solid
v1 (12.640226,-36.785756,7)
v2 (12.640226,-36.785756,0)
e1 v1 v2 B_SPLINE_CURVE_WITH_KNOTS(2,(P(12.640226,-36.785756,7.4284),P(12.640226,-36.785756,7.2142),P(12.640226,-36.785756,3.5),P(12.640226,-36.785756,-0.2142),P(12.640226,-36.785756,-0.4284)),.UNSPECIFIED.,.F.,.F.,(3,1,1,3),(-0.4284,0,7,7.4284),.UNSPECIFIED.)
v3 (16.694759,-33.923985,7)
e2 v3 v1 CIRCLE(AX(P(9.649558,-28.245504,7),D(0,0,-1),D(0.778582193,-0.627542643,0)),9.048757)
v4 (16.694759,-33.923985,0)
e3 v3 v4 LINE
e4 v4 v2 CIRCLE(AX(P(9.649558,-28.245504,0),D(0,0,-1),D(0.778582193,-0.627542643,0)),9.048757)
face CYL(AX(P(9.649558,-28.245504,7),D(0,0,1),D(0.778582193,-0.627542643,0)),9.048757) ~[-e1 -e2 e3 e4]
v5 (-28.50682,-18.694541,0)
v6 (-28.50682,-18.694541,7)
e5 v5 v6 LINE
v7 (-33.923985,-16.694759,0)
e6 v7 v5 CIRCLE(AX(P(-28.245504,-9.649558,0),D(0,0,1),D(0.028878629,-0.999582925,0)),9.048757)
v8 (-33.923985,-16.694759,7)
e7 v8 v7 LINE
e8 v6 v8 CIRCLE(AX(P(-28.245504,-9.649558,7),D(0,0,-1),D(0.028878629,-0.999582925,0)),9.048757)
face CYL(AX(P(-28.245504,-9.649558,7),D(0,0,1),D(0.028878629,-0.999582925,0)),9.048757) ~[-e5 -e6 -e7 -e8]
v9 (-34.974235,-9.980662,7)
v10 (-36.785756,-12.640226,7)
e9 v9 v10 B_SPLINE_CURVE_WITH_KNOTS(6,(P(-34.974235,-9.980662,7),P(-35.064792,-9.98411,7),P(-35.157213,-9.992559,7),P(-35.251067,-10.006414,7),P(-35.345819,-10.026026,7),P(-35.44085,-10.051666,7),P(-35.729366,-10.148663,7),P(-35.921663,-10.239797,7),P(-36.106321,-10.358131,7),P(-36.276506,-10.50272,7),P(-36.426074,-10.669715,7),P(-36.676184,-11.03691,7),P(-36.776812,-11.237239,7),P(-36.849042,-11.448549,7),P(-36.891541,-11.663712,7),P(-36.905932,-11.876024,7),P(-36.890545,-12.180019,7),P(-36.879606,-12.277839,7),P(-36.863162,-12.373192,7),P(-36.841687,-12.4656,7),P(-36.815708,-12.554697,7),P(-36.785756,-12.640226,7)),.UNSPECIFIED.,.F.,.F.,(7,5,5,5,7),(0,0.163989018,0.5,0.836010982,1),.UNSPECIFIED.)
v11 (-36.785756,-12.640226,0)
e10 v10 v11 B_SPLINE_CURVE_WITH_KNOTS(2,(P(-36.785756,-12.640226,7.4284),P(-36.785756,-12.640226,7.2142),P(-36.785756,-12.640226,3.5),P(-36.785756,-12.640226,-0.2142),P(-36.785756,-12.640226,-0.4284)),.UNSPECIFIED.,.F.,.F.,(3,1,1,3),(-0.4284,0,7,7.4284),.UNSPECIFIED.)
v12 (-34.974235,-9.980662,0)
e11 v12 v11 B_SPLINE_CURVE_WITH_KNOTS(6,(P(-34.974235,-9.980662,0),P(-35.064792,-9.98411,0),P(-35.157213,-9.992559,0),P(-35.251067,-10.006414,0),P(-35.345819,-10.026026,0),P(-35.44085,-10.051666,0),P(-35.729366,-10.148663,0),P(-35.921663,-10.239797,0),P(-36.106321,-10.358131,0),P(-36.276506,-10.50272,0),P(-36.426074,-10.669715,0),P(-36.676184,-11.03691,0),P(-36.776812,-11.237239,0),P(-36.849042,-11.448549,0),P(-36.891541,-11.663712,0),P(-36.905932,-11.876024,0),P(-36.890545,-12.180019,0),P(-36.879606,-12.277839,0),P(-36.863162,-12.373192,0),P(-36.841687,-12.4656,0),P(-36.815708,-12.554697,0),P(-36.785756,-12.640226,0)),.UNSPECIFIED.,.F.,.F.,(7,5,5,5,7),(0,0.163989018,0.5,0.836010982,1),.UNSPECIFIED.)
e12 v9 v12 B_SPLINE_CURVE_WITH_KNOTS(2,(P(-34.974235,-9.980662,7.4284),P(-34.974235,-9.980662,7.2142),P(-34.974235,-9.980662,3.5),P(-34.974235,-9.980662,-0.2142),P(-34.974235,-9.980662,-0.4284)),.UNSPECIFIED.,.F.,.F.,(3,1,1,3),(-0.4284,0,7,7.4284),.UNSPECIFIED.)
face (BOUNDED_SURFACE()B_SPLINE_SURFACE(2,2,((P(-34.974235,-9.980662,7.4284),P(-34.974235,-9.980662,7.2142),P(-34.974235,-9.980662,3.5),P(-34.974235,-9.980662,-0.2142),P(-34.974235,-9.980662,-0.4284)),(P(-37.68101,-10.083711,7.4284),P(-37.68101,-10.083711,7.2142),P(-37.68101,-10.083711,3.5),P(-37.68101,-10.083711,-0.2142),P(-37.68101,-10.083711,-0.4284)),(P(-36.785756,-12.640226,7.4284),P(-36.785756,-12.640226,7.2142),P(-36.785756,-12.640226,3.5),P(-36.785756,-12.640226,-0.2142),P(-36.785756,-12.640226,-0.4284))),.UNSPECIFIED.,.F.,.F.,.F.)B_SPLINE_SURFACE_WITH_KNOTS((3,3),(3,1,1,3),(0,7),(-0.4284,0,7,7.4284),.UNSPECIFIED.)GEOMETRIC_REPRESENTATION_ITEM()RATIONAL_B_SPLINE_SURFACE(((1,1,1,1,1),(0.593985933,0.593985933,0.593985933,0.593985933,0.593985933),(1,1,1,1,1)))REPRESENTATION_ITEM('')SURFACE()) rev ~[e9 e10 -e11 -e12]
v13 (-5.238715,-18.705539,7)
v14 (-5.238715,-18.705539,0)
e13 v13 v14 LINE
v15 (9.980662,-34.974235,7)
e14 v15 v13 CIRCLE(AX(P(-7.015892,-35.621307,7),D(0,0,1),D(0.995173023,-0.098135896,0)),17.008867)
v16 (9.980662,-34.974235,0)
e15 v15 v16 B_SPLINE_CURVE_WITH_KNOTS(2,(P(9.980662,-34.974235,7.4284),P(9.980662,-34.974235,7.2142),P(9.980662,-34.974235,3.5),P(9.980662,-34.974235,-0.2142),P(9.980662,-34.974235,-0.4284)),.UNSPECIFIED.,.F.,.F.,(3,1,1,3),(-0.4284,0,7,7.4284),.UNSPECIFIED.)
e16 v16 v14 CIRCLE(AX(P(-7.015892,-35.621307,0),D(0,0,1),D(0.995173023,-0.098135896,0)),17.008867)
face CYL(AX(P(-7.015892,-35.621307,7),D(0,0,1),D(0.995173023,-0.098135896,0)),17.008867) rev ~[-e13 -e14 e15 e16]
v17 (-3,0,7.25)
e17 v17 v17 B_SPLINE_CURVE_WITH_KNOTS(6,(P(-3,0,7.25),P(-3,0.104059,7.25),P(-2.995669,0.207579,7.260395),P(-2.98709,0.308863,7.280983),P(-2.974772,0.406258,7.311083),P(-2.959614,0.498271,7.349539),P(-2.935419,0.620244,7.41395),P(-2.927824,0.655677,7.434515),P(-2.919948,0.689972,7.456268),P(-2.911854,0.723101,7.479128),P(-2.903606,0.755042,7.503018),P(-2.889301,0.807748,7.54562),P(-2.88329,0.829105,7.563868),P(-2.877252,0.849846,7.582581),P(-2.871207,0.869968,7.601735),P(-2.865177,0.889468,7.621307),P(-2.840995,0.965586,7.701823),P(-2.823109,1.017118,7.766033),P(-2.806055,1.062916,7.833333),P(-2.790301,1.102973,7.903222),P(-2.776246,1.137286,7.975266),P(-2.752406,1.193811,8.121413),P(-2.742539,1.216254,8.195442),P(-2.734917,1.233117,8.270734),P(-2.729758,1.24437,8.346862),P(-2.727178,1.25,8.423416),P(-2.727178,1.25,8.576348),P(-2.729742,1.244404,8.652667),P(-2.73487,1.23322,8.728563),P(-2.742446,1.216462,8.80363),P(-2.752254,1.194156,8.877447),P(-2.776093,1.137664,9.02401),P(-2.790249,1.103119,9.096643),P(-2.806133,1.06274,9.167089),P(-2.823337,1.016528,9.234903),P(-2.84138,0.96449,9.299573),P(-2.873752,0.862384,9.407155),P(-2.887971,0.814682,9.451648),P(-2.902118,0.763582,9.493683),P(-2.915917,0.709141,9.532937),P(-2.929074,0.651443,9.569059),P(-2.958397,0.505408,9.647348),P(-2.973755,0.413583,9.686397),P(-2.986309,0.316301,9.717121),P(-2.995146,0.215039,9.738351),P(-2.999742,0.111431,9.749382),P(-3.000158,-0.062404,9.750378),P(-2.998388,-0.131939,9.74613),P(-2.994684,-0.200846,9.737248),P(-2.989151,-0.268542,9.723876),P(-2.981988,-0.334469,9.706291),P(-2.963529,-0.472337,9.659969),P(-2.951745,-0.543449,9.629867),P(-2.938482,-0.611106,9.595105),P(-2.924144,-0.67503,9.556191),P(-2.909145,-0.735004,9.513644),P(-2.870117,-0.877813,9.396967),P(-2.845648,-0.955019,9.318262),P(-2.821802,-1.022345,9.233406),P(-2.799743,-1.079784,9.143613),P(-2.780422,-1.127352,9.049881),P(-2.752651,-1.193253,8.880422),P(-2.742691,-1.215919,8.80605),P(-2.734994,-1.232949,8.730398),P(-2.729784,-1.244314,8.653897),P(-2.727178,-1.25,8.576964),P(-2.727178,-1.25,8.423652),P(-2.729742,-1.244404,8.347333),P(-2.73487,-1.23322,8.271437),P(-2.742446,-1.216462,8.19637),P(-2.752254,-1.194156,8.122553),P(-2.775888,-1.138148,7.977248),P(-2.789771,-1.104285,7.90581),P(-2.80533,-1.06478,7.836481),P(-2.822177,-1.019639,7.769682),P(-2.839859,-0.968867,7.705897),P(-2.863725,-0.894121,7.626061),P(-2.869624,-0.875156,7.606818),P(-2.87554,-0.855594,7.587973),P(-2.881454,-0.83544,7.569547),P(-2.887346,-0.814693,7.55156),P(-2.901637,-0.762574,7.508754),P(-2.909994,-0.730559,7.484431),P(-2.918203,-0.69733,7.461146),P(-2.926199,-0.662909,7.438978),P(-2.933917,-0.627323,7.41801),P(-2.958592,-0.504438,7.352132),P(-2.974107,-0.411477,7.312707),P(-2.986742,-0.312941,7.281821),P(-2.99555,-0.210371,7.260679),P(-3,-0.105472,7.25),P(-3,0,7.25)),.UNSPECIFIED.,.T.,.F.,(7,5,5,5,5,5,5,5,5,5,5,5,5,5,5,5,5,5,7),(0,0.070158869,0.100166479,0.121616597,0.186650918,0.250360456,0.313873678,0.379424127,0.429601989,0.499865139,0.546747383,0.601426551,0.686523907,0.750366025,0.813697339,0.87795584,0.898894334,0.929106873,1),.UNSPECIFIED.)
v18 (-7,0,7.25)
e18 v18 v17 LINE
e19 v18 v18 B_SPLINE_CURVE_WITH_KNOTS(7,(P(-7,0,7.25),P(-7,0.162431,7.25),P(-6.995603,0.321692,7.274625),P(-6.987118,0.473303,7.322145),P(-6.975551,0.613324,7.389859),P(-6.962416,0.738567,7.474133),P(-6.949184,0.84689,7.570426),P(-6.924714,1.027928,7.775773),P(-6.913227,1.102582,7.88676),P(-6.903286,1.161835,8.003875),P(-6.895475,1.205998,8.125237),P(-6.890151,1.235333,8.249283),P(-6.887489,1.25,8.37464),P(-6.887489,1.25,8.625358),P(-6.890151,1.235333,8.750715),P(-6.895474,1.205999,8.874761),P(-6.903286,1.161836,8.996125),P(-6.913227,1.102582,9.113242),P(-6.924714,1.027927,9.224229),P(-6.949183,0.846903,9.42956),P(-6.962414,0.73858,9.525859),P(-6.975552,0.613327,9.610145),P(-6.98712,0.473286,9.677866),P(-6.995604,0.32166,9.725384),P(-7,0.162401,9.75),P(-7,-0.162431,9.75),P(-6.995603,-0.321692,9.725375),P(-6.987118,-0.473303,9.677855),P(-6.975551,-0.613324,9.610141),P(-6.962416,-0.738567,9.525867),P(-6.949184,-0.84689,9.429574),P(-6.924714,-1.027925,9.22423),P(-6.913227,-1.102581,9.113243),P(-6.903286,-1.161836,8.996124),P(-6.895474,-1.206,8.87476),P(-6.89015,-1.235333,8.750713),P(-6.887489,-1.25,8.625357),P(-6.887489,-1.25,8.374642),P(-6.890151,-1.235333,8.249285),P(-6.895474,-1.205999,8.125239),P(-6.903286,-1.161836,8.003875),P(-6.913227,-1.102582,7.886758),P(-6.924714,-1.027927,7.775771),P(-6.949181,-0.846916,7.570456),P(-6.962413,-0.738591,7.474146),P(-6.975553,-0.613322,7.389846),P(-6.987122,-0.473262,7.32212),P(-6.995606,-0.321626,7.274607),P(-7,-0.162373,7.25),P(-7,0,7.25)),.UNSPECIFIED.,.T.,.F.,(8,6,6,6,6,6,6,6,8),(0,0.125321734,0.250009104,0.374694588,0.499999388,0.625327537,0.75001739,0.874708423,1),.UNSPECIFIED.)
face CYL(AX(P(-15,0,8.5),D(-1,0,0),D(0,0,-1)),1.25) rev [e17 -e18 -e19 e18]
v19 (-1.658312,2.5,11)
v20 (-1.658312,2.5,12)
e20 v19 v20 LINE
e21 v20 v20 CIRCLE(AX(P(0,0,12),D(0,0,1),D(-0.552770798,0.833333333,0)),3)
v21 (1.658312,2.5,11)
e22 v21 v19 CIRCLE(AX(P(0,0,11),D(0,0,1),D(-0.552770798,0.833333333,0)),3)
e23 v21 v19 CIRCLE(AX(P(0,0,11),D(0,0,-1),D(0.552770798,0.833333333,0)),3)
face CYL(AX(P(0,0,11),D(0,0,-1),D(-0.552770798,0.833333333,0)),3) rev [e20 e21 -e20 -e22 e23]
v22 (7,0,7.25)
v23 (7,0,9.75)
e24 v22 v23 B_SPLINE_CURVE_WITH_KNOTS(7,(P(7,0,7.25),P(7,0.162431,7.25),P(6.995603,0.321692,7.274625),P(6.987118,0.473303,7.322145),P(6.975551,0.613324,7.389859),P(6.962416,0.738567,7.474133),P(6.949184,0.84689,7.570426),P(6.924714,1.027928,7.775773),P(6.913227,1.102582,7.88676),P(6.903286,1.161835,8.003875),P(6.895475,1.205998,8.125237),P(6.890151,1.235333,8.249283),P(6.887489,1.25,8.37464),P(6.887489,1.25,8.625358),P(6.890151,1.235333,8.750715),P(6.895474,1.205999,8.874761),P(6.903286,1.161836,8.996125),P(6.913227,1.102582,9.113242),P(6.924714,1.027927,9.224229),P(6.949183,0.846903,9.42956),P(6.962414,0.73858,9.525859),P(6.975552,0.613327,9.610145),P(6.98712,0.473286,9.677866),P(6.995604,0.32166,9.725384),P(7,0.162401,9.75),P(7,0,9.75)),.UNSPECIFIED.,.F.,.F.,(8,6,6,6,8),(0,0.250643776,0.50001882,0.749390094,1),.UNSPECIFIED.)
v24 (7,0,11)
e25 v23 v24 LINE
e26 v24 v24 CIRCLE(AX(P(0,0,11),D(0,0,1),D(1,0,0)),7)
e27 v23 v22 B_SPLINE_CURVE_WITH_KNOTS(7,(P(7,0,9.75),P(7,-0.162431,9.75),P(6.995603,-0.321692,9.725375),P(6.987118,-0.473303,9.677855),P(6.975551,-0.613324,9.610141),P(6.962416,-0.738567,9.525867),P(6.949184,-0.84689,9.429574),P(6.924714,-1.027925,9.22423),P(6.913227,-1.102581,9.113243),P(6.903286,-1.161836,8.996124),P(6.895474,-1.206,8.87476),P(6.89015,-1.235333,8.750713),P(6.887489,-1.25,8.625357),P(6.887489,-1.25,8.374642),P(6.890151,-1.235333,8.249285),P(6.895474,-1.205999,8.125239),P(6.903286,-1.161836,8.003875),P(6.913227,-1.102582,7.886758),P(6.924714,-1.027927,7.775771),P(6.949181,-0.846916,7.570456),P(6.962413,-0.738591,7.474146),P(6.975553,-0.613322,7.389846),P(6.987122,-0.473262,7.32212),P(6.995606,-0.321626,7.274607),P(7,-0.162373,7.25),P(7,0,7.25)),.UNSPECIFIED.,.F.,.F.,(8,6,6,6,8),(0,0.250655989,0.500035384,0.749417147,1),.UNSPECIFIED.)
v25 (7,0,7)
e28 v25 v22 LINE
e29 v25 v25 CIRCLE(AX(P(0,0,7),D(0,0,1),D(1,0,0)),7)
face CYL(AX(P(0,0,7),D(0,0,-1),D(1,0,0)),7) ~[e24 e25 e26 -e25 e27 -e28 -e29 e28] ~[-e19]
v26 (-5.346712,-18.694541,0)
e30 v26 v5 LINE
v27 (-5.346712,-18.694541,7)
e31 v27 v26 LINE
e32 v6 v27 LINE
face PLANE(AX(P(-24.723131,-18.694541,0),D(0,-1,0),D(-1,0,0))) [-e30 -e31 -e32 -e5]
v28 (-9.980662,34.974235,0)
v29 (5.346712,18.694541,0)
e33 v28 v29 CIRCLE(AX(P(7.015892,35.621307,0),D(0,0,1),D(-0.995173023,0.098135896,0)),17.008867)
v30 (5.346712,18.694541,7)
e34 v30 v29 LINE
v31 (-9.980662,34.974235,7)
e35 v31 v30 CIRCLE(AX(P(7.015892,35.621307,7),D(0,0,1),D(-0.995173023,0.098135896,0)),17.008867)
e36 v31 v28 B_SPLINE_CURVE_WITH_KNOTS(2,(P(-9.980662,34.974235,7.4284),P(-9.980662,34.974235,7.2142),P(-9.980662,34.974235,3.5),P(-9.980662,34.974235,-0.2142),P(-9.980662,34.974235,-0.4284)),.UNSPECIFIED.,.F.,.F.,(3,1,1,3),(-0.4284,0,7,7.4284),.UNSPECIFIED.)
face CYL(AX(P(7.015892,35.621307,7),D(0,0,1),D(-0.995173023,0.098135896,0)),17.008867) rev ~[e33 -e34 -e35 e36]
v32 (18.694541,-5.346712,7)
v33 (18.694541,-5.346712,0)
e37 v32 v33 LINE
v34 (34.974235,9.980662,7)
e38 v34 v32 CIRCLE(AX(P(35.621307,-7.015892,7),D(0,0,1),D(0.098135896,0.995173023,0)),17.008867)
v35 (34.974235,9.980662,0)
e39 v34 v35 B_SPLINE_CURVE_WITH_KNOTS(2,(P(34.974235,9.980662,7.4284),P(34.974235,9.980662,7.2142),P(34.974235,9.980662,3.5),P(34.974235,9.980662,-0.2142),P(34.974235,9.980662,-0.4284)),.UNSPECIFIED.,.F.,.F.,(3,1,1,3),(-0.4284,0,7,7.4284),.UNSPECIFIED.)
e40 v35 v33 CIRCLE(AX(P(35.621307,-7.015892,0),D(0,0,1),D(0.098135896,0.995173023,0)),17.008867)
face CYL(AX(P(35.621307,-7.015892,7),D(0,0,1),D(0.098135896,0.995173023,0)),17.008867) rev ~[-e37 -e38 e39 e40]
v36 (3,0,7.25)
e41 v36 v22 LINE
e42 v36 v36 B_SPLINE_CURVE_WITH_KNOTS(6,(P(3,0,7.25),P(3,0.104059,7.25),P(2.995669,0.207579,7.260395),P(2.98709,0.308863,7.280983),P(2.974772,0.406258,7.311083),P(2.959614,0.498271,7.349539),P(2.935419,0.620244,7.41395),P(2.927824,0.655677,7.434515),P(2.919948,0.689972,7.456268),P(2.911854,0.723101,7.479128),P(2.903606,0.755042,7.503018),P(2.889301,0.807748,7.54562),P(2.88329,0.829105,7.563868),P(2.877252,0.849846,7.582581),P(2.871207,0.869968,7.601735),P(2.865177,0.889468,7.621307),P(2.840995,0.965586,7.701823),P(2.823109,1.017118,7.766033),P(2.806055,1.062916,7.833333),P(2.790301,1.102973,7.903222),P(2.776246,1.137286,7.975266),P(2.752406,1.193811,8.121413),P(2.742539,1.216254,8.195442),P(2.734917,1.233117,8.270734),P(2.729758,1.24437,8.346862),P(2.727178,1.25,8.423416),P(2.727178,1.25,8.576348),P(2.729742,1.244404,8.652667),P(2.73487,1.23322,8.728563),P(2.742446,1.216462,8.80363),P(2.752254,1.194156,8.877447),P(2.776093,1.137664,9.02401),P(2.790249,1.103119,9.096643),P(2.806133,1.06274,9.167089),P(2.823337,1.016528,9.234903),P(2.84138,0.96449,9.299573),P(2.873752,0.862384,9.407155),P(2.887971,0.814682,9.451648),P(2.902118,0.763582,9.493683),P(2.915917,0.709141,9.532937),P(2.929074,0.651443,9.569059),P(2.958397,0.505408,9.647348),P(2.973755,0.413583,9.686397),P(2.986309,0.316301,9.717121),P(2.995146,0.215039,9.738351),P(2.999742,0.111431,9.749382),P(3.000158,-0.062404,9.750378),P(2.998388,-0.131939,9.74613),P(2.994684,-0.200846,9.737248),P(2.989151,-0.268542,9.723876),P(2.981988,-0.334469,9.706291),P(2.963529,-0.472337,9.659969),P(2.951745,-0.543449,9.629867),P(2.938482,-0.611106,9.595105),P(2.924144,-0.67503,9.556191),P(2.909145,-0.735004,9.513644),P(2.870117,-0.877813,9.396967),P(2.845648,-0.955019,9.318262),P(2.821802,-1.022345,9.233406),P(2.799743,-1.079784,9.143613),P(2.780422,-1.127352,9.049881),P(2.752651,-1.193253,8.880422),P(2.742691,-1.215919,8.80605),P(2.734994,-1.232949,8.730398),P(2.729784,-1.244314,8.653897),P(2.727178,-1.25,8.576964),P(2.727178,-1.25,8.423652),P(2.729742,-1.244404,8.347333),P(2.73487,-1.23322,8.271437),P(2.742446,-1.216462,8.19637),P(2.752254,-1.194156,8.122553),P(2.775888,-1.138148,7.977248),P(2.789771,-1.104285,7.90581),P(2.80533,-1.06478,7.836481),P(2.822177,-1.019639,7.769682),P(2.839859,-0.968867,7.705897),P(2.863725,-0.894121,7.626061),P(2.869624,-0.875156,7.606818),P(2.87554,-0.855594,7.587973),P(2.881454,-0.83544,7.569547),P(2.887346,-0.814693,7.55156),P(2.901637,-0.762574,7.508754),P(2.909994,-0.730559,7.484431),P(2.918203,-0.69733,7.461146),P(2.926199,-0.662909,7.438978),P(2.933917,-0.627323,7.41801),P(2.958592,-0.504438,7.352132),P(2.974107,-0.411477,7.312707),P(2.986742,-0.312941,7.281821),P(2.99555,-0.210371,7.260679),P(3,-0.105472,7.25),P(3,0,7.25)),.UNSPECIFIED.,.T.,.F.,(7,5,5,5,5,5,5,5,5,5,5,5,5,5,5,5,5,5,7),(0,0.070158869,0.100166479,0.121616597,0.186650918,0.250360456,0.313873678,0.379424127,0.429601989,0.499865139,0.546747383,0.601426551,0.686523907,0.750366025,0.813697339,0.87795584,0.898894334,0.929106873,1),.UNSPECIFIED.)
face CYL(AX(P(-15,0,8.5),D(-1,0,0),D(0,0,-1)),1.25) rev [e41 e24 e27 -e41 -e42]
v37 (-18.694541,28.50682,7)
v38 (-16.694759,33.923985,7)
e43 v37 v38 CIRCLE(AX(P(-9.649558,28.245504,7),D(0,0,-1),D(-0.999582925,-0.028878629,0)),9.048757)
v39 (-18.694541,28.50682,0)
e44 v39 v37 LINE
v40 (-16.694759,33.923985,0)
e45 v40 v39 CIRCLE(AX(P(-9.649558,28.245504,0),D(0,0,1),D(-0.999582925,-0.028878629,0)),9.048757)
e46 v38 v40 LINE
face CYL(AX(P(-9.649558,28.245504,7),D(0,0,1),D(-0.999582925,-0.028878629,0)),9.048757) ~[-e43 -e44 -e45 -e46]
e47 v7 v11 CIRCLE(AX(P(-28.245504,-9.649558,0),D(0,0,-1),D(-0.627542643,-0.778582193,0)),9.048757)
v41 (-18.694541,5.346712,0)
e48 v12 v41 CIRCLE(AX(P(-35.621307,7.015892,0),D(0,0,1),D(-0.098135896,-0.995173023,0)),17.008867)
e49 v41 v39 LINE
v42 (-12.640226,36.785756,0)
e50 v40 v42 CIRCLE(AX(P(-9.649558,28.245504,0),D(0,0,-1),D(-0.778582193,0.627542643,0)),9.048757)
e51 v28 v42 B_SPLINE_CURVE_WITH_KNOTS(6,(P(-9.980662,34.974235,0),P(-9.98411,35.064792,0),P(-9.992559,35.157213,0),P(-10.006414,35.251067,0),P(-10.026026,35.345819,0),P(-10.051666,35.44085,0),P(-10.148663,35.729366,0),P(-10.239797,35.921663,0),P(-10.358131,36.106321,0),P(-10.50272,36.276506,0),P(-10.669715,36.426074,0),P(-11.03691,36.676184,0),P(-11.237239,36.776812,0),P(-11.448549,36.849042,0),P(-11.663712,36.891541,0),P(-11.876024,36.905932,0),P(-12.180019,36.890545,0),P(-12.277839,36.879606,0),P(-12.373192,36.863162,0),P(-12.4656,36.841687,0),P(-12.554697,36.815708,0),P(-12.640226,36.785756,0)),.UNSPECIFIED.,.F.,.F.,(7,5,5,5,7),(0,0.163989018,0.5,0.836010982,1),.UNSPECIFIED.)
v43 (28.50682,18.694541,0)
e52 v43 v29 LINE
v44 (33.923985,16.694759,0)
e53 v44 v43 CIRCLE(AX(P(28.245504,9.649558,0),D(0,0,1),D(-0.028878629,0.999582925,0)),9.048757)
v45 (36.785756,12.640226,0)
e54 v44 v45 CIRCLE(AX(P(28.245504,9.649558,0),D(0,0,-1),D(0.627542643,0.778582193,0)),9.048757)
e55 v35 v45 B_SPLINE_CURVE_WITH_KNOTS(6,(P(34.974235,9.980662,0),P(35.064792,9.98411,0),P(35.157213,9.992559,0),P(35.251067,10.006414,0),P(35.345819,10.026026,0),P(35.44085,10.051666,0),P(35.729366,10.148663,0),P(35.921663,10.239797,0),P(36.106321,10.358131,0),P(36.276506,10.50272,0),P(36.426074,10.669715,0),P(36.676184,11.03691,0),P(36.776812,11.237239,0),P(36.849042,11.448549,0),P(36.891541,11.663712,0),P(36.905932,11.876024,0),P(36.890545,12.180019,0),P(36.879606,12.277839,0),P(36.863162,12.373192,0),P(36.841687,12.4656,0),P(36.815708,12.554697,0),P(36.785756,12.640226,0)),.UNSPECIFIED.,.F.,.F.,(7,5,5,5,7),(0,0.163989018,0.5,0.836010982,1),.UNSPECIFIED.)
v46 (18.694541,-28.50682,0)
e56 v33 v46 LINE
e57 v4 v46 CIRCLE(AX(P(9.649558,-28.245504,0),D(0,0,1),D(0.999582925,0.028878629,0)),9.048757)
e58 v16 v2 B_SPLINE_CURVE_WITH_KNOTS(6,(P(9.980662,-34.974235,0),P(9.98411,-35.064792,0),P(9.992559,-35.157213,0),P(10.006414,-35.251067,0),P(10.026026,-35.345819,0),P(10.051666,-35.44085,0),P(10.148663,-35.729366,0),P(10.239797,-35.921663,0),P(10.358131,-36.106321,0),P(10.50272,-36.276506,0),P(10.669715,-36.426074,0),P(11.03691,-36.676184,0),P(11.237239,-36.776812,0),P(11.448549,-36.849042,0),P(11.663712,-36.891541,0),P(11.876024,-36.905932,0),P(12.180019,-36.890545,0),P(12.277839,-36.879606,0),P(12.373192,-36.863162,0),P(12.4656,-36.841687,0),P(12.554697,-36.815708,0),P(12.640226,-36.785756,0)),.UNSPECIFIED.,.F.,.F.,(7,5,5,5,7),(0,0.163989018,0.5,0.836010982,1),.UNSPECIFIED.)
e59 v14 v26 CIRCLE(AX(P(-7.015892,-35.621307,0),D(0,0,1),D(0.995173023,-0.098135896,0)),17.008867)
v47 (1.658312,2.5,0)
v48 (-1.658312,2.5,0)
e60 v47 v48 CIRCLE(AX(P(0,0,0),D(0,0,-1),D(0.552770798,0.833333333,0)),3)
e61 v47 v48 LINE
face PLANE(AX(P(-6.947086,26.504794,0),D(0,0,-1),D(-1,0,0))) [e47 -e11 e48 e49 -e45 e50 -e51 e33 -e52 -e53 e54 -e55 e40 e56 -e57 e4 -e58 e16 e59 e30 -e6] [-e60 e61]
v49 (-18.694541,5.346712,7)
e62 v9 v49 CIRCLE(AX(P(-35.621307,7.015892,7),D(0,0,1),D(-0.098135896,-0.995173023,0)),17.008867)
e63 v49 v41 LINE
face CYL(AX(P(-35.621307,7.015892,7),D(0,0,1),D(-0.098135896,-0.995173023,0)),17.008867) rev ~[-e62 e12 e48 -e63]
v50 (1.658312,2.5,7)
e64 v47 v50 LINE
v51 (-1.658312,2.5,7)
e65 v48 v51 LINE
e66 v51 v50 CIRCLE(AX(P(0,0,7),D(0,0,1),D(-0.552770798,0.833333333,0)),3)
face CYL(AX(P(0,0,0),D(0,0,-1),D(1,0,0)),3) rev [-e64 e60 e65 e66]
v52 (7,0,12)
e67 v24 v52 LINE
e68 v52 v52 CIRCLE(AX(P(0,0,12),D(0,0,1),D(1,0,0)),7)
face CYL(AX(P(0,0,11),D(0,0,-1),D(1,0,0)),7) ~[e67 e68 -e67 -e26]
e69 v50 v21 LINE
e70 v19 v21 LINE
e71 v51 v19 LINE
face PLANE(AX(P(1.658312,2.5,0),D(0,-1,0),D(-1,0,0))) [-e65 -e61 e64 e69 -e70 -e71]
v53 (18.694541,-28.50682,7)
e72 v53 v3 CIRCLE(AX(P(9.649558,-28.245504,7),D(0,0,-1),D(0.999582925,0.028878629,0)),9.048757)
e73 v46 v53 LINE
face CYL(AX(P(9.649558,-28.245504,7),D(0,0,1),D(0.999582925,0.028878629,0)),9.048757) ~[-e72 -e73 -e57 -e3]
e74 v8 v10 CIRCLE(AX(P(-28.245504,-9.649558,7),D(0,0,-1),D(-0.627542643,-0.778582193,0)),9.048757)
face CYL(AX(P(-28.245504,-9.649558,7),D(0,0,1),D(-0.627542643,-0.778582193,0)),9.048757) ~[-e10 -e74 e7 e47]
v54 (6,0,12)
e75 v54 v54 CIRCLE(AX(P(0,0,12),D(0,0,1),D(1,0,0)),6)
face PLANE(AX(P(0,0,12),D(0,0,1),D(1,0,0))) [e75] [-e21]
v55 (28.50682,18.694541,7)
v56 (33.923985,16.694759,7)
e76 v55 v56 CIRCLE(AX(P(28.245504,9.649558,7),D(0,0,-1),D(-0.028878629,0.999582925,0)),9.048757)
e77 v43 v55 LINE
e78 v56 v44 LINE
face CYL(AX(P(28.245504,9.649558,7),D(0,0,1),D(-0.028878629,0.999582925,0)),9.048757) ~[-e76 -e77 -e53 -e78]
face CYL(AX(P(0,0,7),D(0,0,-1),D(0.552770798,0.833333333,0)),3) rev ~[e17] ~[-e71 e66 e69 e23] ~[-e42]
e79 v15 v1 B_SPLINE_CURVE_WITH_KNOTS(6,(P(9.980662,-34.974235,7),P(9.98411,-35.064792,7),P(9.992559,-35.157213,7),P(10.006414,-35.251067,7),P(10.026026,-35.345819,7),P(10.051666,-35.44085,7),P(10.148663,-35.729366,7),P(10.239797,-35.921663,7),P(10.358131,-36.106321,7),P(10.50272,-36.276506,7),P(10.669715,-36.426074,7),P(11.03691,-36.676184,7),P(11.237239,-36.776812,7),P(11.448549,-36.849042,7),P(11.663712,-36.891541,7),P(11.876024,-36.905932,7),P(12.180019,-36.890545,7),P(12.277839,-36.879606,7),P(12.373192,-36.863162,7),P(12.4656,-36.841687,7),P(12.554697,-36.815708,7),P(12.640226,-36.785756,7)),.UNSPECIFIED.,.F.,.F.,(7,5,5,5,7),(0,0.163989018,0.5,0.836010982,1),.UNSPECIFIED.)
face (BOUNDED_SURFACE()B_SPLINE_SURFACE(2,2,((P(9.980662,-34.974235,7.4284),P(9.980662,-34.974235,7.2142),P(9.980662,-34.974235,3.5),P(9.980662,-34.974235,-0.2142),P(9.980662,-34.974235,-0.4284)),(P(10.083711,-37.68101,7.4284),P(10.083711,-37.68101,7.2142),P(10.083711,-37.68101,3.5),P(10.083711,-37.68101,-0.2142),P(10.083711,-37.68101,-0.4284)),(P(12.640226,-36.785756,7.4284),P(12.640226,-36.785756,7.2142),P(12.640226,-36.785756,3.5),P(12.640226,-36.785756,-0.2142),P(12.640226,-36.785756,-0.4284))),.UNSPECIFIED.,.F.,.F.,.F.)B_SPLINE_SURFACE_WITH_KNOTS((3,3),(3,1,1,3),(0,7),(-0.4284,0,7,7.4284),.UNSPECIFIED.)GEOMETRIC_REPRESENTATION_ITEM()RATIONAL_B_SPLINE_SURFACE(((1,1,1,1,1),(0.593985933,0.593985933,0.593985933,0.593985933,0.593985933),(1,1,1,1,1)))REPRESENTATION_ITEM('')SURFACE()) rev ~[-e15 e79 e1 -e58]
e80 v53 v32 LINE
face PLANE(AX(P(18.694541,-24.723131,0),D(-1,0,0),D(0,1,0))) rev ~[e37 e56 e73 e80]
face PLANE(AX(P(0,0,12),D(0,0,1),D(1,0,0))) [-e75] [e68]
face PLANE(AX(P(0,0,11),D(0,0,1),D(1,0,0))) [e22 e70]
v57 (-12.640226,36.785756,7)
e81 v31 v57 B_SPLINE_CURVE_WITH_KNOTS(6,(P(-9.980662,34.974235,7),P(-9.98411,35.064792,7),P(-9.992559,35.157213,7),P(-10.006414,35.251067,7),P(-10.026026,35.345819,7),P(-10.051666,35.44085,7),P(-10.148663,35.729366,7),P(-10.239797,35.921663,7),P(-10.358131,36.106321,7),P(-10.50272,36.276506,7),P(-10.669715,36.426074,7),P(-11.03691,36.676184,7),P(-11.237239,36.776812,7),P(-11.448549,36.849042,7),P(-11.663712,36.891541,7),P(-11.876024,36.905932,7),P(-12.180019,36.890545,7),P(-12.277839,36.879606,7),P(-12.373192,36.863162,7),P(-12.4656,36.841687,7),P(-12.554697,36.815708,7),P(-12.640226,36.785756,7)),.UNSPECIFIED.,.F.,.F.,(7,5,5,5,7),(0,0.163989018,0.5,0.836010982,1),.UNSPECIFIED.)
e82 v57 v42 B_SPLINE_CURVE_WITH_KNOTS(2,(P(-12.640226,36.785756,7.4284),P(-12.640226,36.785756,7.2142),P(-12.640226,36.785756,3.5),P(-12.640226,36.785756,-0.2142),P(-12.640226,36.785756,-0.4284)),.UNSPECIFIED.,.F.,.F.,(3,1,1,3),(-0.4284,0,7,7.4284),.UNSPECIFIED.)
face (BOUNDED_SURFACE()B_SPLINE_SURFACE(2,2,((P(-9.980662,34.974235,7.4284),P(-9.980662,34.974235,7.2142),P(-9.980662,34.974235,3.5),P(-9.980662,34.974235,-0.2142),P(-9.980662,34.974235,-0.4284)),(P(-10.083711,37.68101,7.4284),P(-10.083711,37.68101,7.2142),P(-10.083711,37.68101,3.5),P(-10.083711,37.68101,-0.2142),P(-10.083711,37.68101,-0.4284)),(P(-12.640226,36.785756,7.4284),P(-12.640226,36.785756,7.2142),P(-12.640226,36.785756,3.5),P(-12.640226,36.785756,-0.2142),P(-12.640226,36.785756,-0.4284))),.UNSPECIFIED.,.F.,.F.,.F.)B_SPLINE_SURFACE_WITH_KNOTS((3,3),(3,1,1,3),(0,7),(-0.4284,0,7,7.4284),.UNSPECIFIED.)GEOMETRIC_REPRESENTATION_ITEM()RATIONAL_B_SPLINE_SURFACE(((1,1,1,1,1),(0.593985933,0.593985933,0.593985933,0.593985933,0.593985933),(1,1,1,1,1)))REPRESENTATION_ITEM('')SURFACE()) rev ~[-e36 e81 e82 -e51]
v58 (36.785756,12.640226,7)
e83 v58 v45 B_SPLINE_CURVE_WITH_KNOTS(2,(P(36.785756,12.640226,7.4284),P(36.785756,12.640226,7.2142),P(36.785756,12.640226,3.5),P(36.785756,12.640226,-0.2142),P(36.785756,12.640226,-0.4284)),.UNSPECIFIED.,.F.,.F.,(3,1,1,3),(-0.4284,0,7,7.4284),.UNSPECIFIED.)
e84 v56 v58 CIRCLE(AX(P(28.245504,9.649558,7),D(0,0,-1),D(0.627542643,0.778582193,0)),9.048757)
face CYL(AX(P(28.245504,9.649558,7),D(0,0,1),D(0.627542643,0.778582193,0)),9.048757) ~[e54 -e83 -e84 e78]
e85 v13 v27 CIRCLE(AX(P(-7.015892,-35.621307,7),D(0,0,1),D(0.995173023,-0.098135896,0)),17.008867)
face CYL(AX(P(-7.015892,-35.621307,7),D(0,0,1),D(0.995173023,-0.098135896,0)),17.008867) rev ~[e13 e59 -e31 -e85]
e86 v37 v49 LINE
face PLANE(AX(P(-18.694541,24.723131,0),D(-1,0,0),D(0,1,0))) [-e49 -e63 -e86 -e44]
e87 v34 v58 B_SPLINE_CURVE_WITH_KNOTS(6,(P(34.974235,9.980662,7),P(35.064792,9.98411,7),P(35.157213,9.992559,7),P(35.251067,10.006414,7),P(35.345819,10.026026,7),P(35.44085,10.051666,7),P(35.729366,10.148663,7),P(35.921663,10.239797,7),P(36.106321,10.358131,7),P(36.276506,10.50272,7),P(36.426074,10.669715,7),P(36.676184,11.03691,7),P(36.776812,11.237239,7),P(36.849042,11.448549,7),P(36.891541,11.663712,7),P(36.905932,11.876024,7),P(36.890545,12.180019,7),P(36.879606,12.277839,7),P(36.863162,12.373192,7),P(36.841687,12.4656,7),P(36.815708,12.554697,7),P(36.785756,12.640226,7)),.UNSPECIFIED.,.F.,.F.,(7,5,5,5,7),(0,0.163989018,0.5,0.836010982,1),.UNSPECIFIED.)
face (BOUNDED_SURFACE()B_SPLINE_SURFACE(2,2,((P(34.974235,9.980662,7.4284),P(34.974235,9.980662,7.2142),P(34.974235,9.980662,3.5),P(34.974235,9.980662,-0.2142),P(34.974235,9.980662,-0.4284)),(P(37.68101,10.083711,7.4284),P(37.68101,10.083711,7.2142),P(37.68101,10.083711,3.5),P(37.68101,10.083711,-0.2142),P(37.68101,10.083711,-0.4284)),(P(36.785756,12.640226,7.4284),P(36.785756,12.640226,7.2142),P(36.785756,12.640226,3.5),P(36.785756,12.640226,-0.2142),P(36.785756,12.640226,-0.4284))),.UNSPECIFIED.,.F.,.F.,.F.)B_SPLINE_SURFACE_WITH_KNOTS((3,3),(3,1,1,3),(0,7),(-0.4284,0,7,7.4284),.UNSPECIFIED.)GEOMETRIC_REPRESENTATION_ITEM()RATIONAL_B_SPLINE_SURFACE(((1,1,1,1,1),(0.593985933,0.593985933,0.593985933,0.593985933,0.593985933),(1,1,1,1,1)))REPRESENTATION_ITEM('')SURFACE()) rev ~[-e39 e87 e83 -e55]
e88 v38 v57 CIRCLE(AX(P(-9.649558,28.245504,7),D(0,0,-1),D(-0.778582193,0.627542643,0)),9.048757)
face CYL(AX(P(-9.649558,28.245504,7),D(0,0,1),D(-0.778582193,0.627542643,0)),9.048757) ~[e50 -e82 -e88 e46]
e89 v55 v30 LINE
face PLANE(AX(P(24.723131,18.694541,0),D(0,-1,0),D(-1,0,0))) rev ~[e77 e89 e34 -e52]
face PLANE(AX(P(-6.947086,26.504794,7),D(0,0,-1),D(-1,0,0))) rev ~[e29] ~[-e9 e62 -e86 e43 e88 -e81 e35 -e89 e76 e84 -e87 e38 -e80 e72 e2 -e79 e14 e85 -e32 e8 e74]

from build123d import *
from build123d.topology import SkipClean

# Parameters (mm, degrees)
SKETCH_1_R               = 3
EXTRUDE_1_DEPTH          = 7
SKETCH_5_R               = 7
EXTRUDE_2_DEPTH          = 4
EXTRUDE_START            = 7
EXTRUDE_3_DEPTH          = 7
CUT_EXTRUDE_5_DEPTH      = 8
CUT_EXTRUDE_5_DEPTH_BACK = 15
SKETCH_12_R              = 6
SKETCH_12_R_2            = 3
EXTRUDE_4_DEPTH          = 1
SKETCH_13_R              = 82.694540834
CUT_EXTRUDE_13_DEPTH     = 10
FILLET_1_R               = 2
FILLET_2_R               = 2
EXTRUDE_5_DEPTH          = 7
CUT_EXTRUDE_14_DEPTH     = 10
FILLET_3_R               = 3
FILLET_4_R               = 1
EXTRUDE_START_2          = -7
EXTRUDE_6_DEPTH          = 7
SKETCH_18_R              = 47.238796546
CUT_EXTRUDE_15_DEPTH     = 10
FILLET_5_R               = 2
SKETCH_22_R              = 7
SKETCH_22_R_2            = 6
EXTRUDE_8_DEPTH          = 1


with BuildPart() as part:
    # 草图1 → 凸台-拉伸1 (new body)
    with BuildSketch(Plane.XY):
        with BuildLine():
            ThreePointArc((32.8, 22.894540834), (36.610888994, 26.155959788), (40.879786515, 28.789634497))
            ThreePointArc((40.879786515, 28.789634497), (35.355339059, 35.355339059), (28.789634497, 40.879786515))
            ThreePointArc((28.789634497, 40.879786515), (26.155959788, 36.610888994), (22.894540834, 32.8))
            ThreePointArc((22.894540834, 32.8), (0, 23.316770682), (-22.894540834, 32.8))
            ThreePointArc((-22.894540834, 32.8), (-26.155959788, 36.610888994), (-28.789634497, 40.879786515))
            ThreePointArc((-28.789634497, 40.879786515), (-35.355339059, 35.355339059), (-40.879786515, 28.789634497))
            ThreePointArc((-40.879786515, 28.789634497), (-36.610888994, 26.155959788), (-32.8, 22.894540834))
            ThreePointArc((-32.8, 22.894540834), (-23.316770682, 0), (-32.8, -22.894540834))
            ThreePointArc((-32.8, -22.894540834), (-36.610888994, -26.155959788), (-40.879786515, -28.789634497))
            ThreePointArc((-40.879786515, -28.789634497), (-35.355339059, -35.355339059), (-28.789634497, -40.879786515))
            ThreePointArc((-28.789634497, -40.879786515), (-26.155959788, -36.610888994), (-22.894540834, -32.8))
            ThreePointArc((-22.894540834, -32.8), (0, -23.316770682), (22.894540834, -32.8))
            ThreePointArc((22.894540834, -32.8), (26.155959788, -36.610888994), (28.789634497, -40.879786515))
            ThreePointArc((28.789634497, -40.879786515), (35.355339059, -35.355339059), (40.879786515, -28.789634497))
            ThreePointArc((40.879786515, -28.789634497), (36.610888994, -26.155959788), (32.8, -22.894540834))
            ThreePointArc((32.8, -22.894540834), (23.316770682, 0), (32.8, 22.894540834))
        make_face()
        Circle(SKETCH_1_R, mode=Mode.SUBTRACT)
    extrude(amount=EXTRUDE_1_DEPTH)

    # 草图5 → 凸台-拉伸2 (add)
    with BuildSketch(Plane.XY.offset(7)):
        Circle(SKETCH_5_R)
        with BuildLine():
            Line((-1.658312395, 2.5), (1.658312395, 2.5))
            ThreePointArc((1.658312395, 2.5), (0, -3), (-1.658312395, 2.5))
        make_face(mode=Mode.SUBTRACT)
    extrude(amount=EXTRUDE_2_DEPTH)

    # 草图10 → 凸台-拉伸3 (add)
    with BuildSketch(Plane(origin=(0, 0, 7), x_dir=(-1, 0, 0), z_dir=(0, 0, -1)).offset(EXTRUDE_START)):
        with BuildLine():
            Line((-1.658312395, 2.5), (1.658312395, 2.5))
            ThreePointArc((1.658312395, 2.5), (0, 3), (-1.658312395, 2.5))
        make_face()
    extrude(amount=-EXTRUDE_3_DEPTH)

    # 草图11 → 切除-拉伸5 (cut, two sides: drawn at the far end of the back side and taken through both)
    with BuildSketch(Plane(origin=(0, 0, 0), x_dir=(0, 0, -1), z_dir=(1, 0, 0)).offset(-CUT_EXTRUDE_5_DEPTH_BACK)):
        with BuildLine():
            ThreePointArc((-9.75, 0), (-8.5, -1.25), (-7.25, 0))
            Line((-7.25, 0), (-9.75, 0))
        make_face()
        with BuildLine():
            Line((-9.75, 0), (-7.25, 0))
            ThreePointArc((-7.25, 0), (-8.5, 1.25), (-9.75, 0))
        make_face()
    extrude(amount=CUT_EXTRUDE_5_DEPTH + CUT_EXTRUDE_5_DEPTH_BACK, mode=Mode.SUBTRACT)

    # 草图12 → 凸台-拉伸4 (add)
    with BuildSketch(Plane.XY.offset(11)):
        Circle(SKETCH_12_R)
        with Locations(Location((0, 0, 0), (0, 0, 123.557309762))):
            Circle(SKETCH_12_R_2, mode=Mode.SUBTRACT)
    extrude(amount=EXTRUDE_4_DEPTH)

    # 草图13 → 切除-拉伸13 (cut)
    with BuildSketch(Plane(origin=(0, 0, 0), x_dir=(-1, 0, 0), z_dir=(0, 0, -1))):
        Circle(SKETCH_13_R)
        with BuildLine():
            ThreePointArc((-25.243635923, 31.028355505), (0, 18.694540834), (25.243635923, 31.028355505))
            ThreePointArc((25.243635923, 31.028355505), (28.284271247, 28.284271247), (31.028355505, 25.243635923))
            ThreePointArc((31.028355505, 25.243635923), (18.694540834, 0), (31.028355505, -25.243635923))
            ThreePointArc((31.028355505, -25.243635923), (28.284271247, -28.284271247), (25.243635923, -31.028355505))
            ThreePointArc((25.243635923, -31.028355505), (0, -18.694540834), (-25.243635923, -31.028355505))
            ThreePointArc((-25.243635923, -31.028355505), (-28.284271247, -28.284271247), (-31.028355505, -25.243635923))
            ThreePointArc((-31.028355505, -25.243635923), (-18.694540834, 0), (-31.028355505, 25.243635923))
            ThreePointArc((-31.028355505, 25.243635923), (-28.284271247, 28.284271247), (-25.243635923, 31.028355505))
        make_face(mode=Mode.SUBTRACT)
    extrude(amount=-CUT_EXTRUDE_13_DEPTH, mode=Mode.SUBTRACT)

    # 圆角1
    fillet_1_edges = [part.edges().sort_by_distance(p)[0] for p in [
        (25.243635923, 31.028355505, 3.5),
        (-31.028355505, 25.243635923, 3.5),
        (-31.028355505, -25.243635923, 3.5),
        (31.028355505, -25.243635923, 3.5),
    ]]
    fillet(fillet_1_edges, radius=FILLET_1_R)

    # 圆角2
    fillet_2_edges = [part.edges().sort_by_distance(p)[0] for p in [
        (-25.243635923, 31.028355505, 3.5),
        (-25.243635923, -31.028355505, 3.5),
        (25.243635923, -31.028355505, 3.5),
        (31.028355505, 25.243635923, 3.5),
    ]]
    fillet(fillet_2_edges, radius=FILLET_2_R)

    # 草图14 → 凸台-拉伸5 (add)
    # profile 1 of 5: a face of its own
    with SkipClean():  # the faces are left unmerged after this step: merging them gives an invalid solid
        with BuildSketch(Plane(origin=(0, 0, 0), x_dir=(-1, 0, 0), z_dir=(0, 0, -1))):
            with BuildLine():
                ThreePointArc((18.694540834, 24.723130726), (9.821274778, 20.238957409), (0, 18.694540834))
                Line((0, 18.694540834), (-24.723130726, 18.694540834))
                ThreePointArc((-24.723130726, 18.694540834), (-20.238957409, 9.821274778), (-18.694540834, 0))
                Line((-18.694540834, 0), (-18.694540834, -24.723130726))
                ThreePointArc((-18.694540834, -24.723130726), (-9.821274778, -20.238957409), (0, -18.694540834))
                Line((0, -18.694540834), (24.723130726, -18.694540834))
                ThreePointArc((24.723130726, -18.694540834), (20.238957409, -9.821274778), (18.694540834, 0))
                Line((18.694540834, 0), (18.694540834, 24.723130726))
            make_face()
            with BuildLine():
                Line((-1.658312395, 2.5), (1.658312395, 2.5))
                ThreePointArc((1.658312395, 2.5), (0, -3), (-1.658312395, 2.5))
            make_face(mode=Mode.SUBTRACT)
        # profile 2 of 5: a face of its own
        with BuildSketch(Plane(origin=(0, 0, 0), x_dir=(-1, 0, 0), z_dir=(0, 0, -1))):
            with BuildLine():
                ThreePointArc((-18.694540834, 0), (-20.238957409, 9.821274778), (-24.723130726, 18.694540834))
                Line((-24.723130726, 18.694540834), (-34.095635208, 18.694540834))
                Line((-34.095635208, 18.694540834), (-34.095635208, 16.908162968))
                Line((-34.095635208, 16.908162968), (-34.095635208, 13.801737807))
                ThreePointArc((-34.095635208, 13.801737807), (-23.536654529, 10.090539986), (-18.694540834, 0))
            make_face()
        # profile 3 of 5: a face of its own
        with BuildSketch(Plane(origin=(0, 0, 0), x_dir=(-1, 0, 0), z_dir=(0, 0, -1))):
            with BuildLine():
                ThreePointArc((13.801737807, 34.095635208), (10.090539986, 23.536654529), (0, 18.694540834))
                ThreePointArc((0, 18.694540834), (9.821274778, 20.238957409), (18.694540834, 24.723130726))
                Line((18.694540834, 24.723130726), (18.694540834, 34.095635208))
                Line((18.694540834, 34.095635208), (16.908162968, 34.095635208))
                Line((16.908162968, 34.095635208), (13.801737807, 34.095635208))
            make_face()
        # profile 4 of 5: a face of its own
        with BuildSketch(Plane(origin=(0, 0, 0), x_dir=(-1, 0, 0), z_dir=(0, 0, -1))):
            with BuildLine():
                ThreePointArc((34.095635208, -13.801737807), (23.536654529, -10.090539986), (18.694540834, 0))
                ThreePointArc((18.694540834, 0), (20.238957409, -9.821274778), (24.723130726, -18.694540834))
                Line((24.723130726, -18.694540834), (34.095635208, -18.694540834))
                Line((34.095635208, -18.694540834), (34.095635208, -16.908162968))
                Line((34.095635208, -16.908162968), (34.095635208, -13.801737807))
            make_face()
        # profile 5 of 5: a face of its own
        with BuildSketch(Plane(origin=(0, 0, 0), x_dir=(-1, 0, 0), z_dir=(0, 0, -1))):
            with BuildLine():
                ThreePointArc((0, -18.694540834), (-9.821274778, -20.238957409), (-18.694540834, -24.723130726))
                Line((-18.694540834, -24.723130726), (-18.694540834, -34.095635208))
                Line((-18.694540834, -34.095635208), (-16.908162968, -34.095635208))
                Line((-16.908162968, -34.095635208), (-13.801737807, -34.095635208))
                ThreePointArc((-13.801737807, -34.095635208), (-10.090539986, -23.536654529), (0, -18.694540834))
            make_face()
        extrude(amount=-EXTRUDE_5_DEPTH)

    # 草图15 → 切除-拉伸14 (cut)
    with SkipClean():  # the faces are left unmerged after this step: merging them gives an invalid solid
        with BuildSketch(Plane(origin=(0, 0, 0), x_dir=(-1, 0, 0), z_dir=(0, 0, -1))):
            with BuildLine():
                Line((-24.723130726, 18.694540834), (-33.334723843, 25.692106251))
                Line((-33.334723843, 25.692106251), (-12.530174443, 42.497606237))
                Line((-12.530174443, 42.497606237), (0, 18.694540834))
                ThreePointArc((0, 18.694540834), (-13.155803158, 21.523924741), (-23.985180208, 29.51173813))
                ThreePointArc((-23.985180208, 29.51173813), (-25.372019669, 30.184661343), (-26.825530496, 29.671382064))
                ThreePointArc((-26.825530496, 29.671382064), (-28.284271247, 28.284271247), (-29.671382064, 26.825530496))
                ThreePointArc((-29.671382064, 26.825530496), (-30.184661343, 25.372019669), (-29.51173813, 23.985180208))
                ThreePointArc((-29.51173813, 23.985180208), (-26.969497889, 21.473759272), (-24.723130726, 18.694540834))
            make_face()
            with BuildLine():
                Line((-24.723130726, 18.694540834), (0, 18.694540834))
                ThreePointArc((0, 18.694540834), (-13.155803158, 21.523924741), (-23.985180208, 29.51173813))
                ThreePointArc((-23.985180208, 29.51173813), (-25.372019669, 30.184661343), (-26.825530496, 29.671382064))
                ThreePointArc((-26.825530496, 29.671382064), (-28.284271247, 28.284271247), (-29.671382064, 26.825530496))
                ThreePointArc((-29.671382064, 26.825530496), (-30.184661343, 25.372019669), (-29.51173813, 23.985180208))
                ThreePointArc((-29.51173813, 23.985180208), (-26.969497889, 21.473759272), (-24.723130726, 18.694540834))
            make_face()
            with BuildLine():
                Line((18.694540834, 0), (18.694540834, 24.723130726))
                ThreePointArc((18.694540834, 24.723130726), (21.473759272, 26.969497889), (23.985180208, 29.51173813))
                ThreePointArc((23.985180208, 29.51173813), (25.372019669, 30.184661343), (26.825530496, 29.671382064))
                ThreePointArc((26.825530496, 29.671382064), (28.284271247, 28.284271247), (29.671382064, 26.825530496))
                ThreePointArc((29.671382064, 26.825530496), (30.184661343, 25.372019669), (29.51173813, 23.985180208))
                ThreePointArc((29.51173813, 23.985180208), (21.523924741, 13.155803158), (18.694540834, 0))
            make_face()
            with BuildLine():
                Line((18.694540834, 24.723130726), (25.692106251, 33.334723843))
                Line((25.692106251, 33.334723843), (42.497606237, 12.530174443))
                Line((42.497606237, 12.530174443), (18.694540834, 0))
                ThreePointArc((18.694540834, 0), (21.523924741, 13.155803158), (29.51173813, 23.985180208))
                ThreePointArc((29.51173813, 23.985180208), (30.184661343, 25.372019669), (29.671382064, 26.825530496))
                ThreePointArc((29.671382064, 26.825530496), (28.284271247, 28.284271247), (26.825530496, 29.671382064))
                ThreePointArc((26.825530496, 29.671382064), (25.372019669, 30.184661343), (23.985180208, 29.51173813))
                ThreePointArc((23.985180208, 29.51173813), (21.473759272, 26.969497889), (18.694540834, 24.723130726))
            make_face()
            with BuildLine():
                ThreePointArc((29.51173813, -23.985180208), (26.969497889, -21.473759272), (24.723130726, -18.694540834))
                Line((24.723130726, -18.694540834), (0.927061706, -18.707972456))
                ThreePointArc((0.927061706, -18.707972456), (13.577013202, -21.717572178), (23.985180208, -29.51173813))
                ThreePointArc((23.985180208, -29.51173813), (25.372019669, -30.184661343), (26.825530496, -29.671382064))
                ThreePointArc((26.825530496, -29.671382064), (28.284271247, -28.284271247), (29.671382064, -26.825530496))
                ThreePointArc((29.671382064, -26.825530496), (30.184661343, -25.372019669), (29.51173813, -23.985180208))
            make_face()
            with BuildLine():
                Line((24.723130726, -18.694540834), (33.334723843, -25.692106251))
                Line((33.334723843, -25.692106251), (12.530174443, -42.497606237))
                Line((12.530174443, -42.497606237), (0, -18.694540834))
                ThreePointArc((0, -18.694540834), (13.155803158, -21.523924741), (23.985180208, -29.51173813))
                ThreePointArc((23.985180208, -29.51173813), (25.372019669, -30.184661343), (26.825530496, -29.671382064))
                ThreePointArc((26.825530496, -29.671382064), (28.284271247, -28.284271247), (29.671382064, -26.825530496))
                ThreePointArc((29.671382064, -26.825530496), (30.184661343, -25.372019669), (29.51173813, -23.985180208))
                ThreePointArc((29.51173813, -23.985180208), (26.969497889, -21.473759272), (24.723130726, -18.694540834))
            make_face()
            with BuildLine():
                Line((-42.497606237, -12.530174443), (-18.694540834, 0))
                ThreePointArc((-18.694540834, 0), (-21.523924741, -13.155803158), (-29.51173813, -23.985180208))
                ThreePointArc((-29.51173813, -23.985180208), (-30.184661343, -25.372019669), (-29.671382064, -26.825530496))
                ThreePointArc((-29.671382064, -26.825530496), (-28.284271247, -28.284271247), (-26.825530496, -29.671382064))
                ThreePointArc((-26.825530496, -29.671382064), (-25.372019669, -30.184661343), (-23.985180208, -29.51173813))
                ThreePointArc((-23.985180208, -29.51173813), (-21.473759272, -26.969497889), (-18.694540834, -24.723130726))
                Line((-18.694540834, -24.723130726), (-25.692106251, -33.334723843))
                Line((-25.692106251, -33.334723843), (-42.497606237, -12.530174443))
            make_face()
            with BuildLine():
                Line((-18.694540834, -24.723130726), (-18.694540834, 0))
                ThreePointArc((-18.694540834, 0), (-21.523924741, -13.155803158), (-29.51173813, -23.985180208))
                ThreePointArc((-29.51173813, -23.985180208), (-30.184661343, -25.372019669), (-29.671382064, -26.825530496))
                ThreePointArc((-29.671382064, -26.825530496), (-28.284271247, -28.284271247), (-26.825530496, -29.671382064))
                ThreePointArc((-26.825530496, -29.671382064), (-25.372019669, -30.184661343), (-23.985180208, -29.51173813))
                ThreePointArc((-23.985180208, -29.51173813), (-21.473759272, -26.969497889), (-18.694540834, -24.723130726))
            make_face()
        extrude(amount=-CUT_EXTRUDE_14_DEPTH, mode=Mode.SUBTRACT)

    # 圆角3
    fillet_3_edges = [part.edges().sort_by_distance(p)[0] for p in [
        (34.095635208, 18.694540834, 3.5),
        (-18.694540834, 34.095635208, 3.5),
        (-34.095635208, -18.694540834, 3.5),
        (18.694540834, -34.095635208, 3.5),
    ]]
    fillet(fillet_3_edges, radius=FILLET_3_R)

    # 圆角4
    fillet_4_edges = [part.edges().sort_by_distance(p)[0] for p in [
        (-13.801737807, 34.095635208, 3.5),
        (-34.095635208, -13.801737807, 3.5),
        (13.801737807, -34.095635208, 3.5),
        (34.095635208, 13.801737807, 3.5),
    ]]
    fillet(fillet_4_edges, radius=FILLET_4_R)

    # 草图16 → 凸台-拉伸6 (add)
    with SkipClean():  # the faces are left unmerged after this step: merging them gives an invalid solid
        with BuildSketch(Plane(origin=(0, 0, 0), x_dir=(-1, 0, 0), z_dir=(0, 0, -1)).offset(EXTRUDE_START_2)):
            with BuildLine():
                ThreePointArc((9.910873566, 37.290487321), (6.133427391, 24.832564637), (-5.346712023, 18.694540834))
                Line((-5.346712023, 18.694540834), (0, 18.694540834))
                ThreePointArc((0, 18.694540834), (9.754847949, 23.174553207), (13.822417362, 33.108457194))
                ThreePointArc((13.822417362, 33.108457194), (14.119776258, 33.807260807), (14.822335157, 34.095635208))
                Line((14.822335157, 34.095635208), (15.694540834, 34.095635208))
                ThreePointArc((15.694540834, 34.095635208), (16.201960761, 34.052411326), (16.694758916, 33.923985219))
                ThreePointArc((16.694758916, 33.923985219), (13.671949052, 36.351080947), (9.910873566, 37.290487321))
            make_face()
            with BuildLine():
                ThreePointArc((-37.290487321, 9.910873566), (-24.832564637, 6.133427391), (-18.694540834, -5.346712023))
                Line((-18.694540834, -5.346712023), (-18.694540834, 0))
                ThreePointArc((-18.694540834, 0), (-23.174553207, 9.754847949), (-33.108457194, 13.822417362))
                ThreePointArc((-33.108457194, 13.822417362), (-33.807260807, 14.119776258), (-34.095635208, 14.822335157))
                Line((-34.095635208, 14.822335157), (-34.095635208, 15.694540834))
                ThreePointArc((-34.095635208, 15.694540834), (-34.052411326, 16.201960761), (-33.923985219, 16.694758916))
                ThreePointArc((-33.923985219, 16.694758916), (-36.351080947, 13.671949052), (-37.290487321, 9.910873566))
            make_face()
            with BuildLine():
                ThreePointArc((-9.910873566, -37.290487321), (-6.167788996, -24.874581099), (5.238714674, -18.705538756))
                Line((5.238714674, -18.705538756), (0.927061706, -18.707972456))
                ThreePointArc((0.927061706, -18.707972456), (0.463579501, -18.697898916), (0, -18.694540834))
                ThreePointArc((0, -18.694540834), (-9.754847949, -23.174553207), (-13.822417362, -33.108457194))
                ThreePointArc((-13.822417362, -33.108457194), (-14.119776258, -33.807260807), (-14.822335157, -34.095635208))
                Line((-14.822335157, -34.095635208), (-15.694540834, -34.095635208))
                ThreePointArc((-15.694540834, -34.095635208), (-16.201960761, -34.052411326), (-16.694758916, -33.923985219))
                ThreePointArc((-16.694758916, -33.923985219), (-13.671949052, -36.351080947), (-9.910873566, -37.290487321))
            make_face()
            with BuildLine():
                ThreePointArc((37.290487321, -9.910873566), (24.832564637, -6.133427391), (18.694540834, 5.346712023))
                Line((18.694540834, 5.346712023), (18.694540834, 0))
                ThreePointArc((18.694540834, 0), (23.174553207, -9.754847949), (33.108457194, -13.822417362))
                ThreePointArc((33.108457194, -13.822417362), (33.807260807, -14.119776258), (34.095635208, -14.822335157))
                Line((34.095635208, -14.822335157), (34.095635208, -15.694540834))
                ThreePointArc((34.095635208, -15.694540834), (34.052411326, -16.201960761), (33.923985219, -16.694758916))
                ThreePointArc((33.923985219, -16.694758916), (36.351080947, -13.671949052), (37.290487321, -9.910873566))
            make_face()
        extrude(amount=EXTRUDE_6_DEPTH)

    # 草图18 → 切除-拉伸15 (cut)
    with SkipClean():  # the faces are left unmerged after this step: merging them gives an invalid solid
        with BuildSketch(Plane.XY.offset(7)):
            Circle(SKETCH_18_R)
            with BuildLine():
                Line((5.346712023, 18.694540834), (27.984188654, 18.694540834))
                ThreePointArc((27.984188654, 18.694540834), (34.456495042, 16.230104762), (37.290487321, 9.910873566))
                ThreePointArc((37.290487321, 9.910873566), (24.832564637, 6.133427391), (18.694540834, -5.346712023))
                Line((18.694540834, -5.346712023), (18.694540834, -27.984188654))
                ThreePointArc((18.694540834, -27.984188654), (16.230104762, -34.456495042), (9.910873566, -37.290487321))
                ThreePointArc((9.910873566, -37.290487321), (6.133427391, -24.832564637), (-5.346712023, -18.694540834))
                Line((-5.346712023, -18.694540834), (-27.984188654, -18.694540834))
                ThreePointArc((-27.984188654, -18.694540834), (-34.456495042, -16.230104762), (-37.290487321, -9.910873566))
                ThreePointArc((-37.290487321, -9.910873566), (-24.832564637, -6.133427391), (-18.694540834, 5.346712023))
                Line((-18.694540834, 5.346712023), (-18.694540834, 27.984188654))
                ThreePointArc((-18.694540834, 27.984188654), (-16.230104762, 34.456495042), (-9.910873566, 37.290487321))
                ThreePointArc((-9.910873566, 37.290487321), (-6.133427391, 24.832564637), (5.346712023, 18.694540834))
            make_face(mode=Mode.SUBTRACT)
        extrude(amount=-CUT_EXTRUDE_15_DEPTH, mode=Mode.SUBTRACT)

    # 圆角5
    fillet_5_edges = [part.edges().sort_by_distance(p)[0] for p in [
        (-9.910873566, 37.290487321, 3.5),
        (37.290487321, 9.910873566, 3.5),
        (9.910873566, -37.290487321, 3.5),
        (-37.290487321, -9.910873566, 3.5),
    ]]
    fillet(fillet_5_edges, radius=FILLET_5_R)

    # 草图22 → 凸台-拉伸8 (add)
    with SkipClean():  # the faces are left unmerged after this step: merging them gives an invalid solid
        with BuildSketch(Plane.XY.offset(11)):
            Circle(SKETCH_22_R)
            Circle(SKETCH_22_R_2, mode=Mode.SUBTRACT)
        extrude(amount=EXTRUDE_8_DEPTH)


solid = part.part
